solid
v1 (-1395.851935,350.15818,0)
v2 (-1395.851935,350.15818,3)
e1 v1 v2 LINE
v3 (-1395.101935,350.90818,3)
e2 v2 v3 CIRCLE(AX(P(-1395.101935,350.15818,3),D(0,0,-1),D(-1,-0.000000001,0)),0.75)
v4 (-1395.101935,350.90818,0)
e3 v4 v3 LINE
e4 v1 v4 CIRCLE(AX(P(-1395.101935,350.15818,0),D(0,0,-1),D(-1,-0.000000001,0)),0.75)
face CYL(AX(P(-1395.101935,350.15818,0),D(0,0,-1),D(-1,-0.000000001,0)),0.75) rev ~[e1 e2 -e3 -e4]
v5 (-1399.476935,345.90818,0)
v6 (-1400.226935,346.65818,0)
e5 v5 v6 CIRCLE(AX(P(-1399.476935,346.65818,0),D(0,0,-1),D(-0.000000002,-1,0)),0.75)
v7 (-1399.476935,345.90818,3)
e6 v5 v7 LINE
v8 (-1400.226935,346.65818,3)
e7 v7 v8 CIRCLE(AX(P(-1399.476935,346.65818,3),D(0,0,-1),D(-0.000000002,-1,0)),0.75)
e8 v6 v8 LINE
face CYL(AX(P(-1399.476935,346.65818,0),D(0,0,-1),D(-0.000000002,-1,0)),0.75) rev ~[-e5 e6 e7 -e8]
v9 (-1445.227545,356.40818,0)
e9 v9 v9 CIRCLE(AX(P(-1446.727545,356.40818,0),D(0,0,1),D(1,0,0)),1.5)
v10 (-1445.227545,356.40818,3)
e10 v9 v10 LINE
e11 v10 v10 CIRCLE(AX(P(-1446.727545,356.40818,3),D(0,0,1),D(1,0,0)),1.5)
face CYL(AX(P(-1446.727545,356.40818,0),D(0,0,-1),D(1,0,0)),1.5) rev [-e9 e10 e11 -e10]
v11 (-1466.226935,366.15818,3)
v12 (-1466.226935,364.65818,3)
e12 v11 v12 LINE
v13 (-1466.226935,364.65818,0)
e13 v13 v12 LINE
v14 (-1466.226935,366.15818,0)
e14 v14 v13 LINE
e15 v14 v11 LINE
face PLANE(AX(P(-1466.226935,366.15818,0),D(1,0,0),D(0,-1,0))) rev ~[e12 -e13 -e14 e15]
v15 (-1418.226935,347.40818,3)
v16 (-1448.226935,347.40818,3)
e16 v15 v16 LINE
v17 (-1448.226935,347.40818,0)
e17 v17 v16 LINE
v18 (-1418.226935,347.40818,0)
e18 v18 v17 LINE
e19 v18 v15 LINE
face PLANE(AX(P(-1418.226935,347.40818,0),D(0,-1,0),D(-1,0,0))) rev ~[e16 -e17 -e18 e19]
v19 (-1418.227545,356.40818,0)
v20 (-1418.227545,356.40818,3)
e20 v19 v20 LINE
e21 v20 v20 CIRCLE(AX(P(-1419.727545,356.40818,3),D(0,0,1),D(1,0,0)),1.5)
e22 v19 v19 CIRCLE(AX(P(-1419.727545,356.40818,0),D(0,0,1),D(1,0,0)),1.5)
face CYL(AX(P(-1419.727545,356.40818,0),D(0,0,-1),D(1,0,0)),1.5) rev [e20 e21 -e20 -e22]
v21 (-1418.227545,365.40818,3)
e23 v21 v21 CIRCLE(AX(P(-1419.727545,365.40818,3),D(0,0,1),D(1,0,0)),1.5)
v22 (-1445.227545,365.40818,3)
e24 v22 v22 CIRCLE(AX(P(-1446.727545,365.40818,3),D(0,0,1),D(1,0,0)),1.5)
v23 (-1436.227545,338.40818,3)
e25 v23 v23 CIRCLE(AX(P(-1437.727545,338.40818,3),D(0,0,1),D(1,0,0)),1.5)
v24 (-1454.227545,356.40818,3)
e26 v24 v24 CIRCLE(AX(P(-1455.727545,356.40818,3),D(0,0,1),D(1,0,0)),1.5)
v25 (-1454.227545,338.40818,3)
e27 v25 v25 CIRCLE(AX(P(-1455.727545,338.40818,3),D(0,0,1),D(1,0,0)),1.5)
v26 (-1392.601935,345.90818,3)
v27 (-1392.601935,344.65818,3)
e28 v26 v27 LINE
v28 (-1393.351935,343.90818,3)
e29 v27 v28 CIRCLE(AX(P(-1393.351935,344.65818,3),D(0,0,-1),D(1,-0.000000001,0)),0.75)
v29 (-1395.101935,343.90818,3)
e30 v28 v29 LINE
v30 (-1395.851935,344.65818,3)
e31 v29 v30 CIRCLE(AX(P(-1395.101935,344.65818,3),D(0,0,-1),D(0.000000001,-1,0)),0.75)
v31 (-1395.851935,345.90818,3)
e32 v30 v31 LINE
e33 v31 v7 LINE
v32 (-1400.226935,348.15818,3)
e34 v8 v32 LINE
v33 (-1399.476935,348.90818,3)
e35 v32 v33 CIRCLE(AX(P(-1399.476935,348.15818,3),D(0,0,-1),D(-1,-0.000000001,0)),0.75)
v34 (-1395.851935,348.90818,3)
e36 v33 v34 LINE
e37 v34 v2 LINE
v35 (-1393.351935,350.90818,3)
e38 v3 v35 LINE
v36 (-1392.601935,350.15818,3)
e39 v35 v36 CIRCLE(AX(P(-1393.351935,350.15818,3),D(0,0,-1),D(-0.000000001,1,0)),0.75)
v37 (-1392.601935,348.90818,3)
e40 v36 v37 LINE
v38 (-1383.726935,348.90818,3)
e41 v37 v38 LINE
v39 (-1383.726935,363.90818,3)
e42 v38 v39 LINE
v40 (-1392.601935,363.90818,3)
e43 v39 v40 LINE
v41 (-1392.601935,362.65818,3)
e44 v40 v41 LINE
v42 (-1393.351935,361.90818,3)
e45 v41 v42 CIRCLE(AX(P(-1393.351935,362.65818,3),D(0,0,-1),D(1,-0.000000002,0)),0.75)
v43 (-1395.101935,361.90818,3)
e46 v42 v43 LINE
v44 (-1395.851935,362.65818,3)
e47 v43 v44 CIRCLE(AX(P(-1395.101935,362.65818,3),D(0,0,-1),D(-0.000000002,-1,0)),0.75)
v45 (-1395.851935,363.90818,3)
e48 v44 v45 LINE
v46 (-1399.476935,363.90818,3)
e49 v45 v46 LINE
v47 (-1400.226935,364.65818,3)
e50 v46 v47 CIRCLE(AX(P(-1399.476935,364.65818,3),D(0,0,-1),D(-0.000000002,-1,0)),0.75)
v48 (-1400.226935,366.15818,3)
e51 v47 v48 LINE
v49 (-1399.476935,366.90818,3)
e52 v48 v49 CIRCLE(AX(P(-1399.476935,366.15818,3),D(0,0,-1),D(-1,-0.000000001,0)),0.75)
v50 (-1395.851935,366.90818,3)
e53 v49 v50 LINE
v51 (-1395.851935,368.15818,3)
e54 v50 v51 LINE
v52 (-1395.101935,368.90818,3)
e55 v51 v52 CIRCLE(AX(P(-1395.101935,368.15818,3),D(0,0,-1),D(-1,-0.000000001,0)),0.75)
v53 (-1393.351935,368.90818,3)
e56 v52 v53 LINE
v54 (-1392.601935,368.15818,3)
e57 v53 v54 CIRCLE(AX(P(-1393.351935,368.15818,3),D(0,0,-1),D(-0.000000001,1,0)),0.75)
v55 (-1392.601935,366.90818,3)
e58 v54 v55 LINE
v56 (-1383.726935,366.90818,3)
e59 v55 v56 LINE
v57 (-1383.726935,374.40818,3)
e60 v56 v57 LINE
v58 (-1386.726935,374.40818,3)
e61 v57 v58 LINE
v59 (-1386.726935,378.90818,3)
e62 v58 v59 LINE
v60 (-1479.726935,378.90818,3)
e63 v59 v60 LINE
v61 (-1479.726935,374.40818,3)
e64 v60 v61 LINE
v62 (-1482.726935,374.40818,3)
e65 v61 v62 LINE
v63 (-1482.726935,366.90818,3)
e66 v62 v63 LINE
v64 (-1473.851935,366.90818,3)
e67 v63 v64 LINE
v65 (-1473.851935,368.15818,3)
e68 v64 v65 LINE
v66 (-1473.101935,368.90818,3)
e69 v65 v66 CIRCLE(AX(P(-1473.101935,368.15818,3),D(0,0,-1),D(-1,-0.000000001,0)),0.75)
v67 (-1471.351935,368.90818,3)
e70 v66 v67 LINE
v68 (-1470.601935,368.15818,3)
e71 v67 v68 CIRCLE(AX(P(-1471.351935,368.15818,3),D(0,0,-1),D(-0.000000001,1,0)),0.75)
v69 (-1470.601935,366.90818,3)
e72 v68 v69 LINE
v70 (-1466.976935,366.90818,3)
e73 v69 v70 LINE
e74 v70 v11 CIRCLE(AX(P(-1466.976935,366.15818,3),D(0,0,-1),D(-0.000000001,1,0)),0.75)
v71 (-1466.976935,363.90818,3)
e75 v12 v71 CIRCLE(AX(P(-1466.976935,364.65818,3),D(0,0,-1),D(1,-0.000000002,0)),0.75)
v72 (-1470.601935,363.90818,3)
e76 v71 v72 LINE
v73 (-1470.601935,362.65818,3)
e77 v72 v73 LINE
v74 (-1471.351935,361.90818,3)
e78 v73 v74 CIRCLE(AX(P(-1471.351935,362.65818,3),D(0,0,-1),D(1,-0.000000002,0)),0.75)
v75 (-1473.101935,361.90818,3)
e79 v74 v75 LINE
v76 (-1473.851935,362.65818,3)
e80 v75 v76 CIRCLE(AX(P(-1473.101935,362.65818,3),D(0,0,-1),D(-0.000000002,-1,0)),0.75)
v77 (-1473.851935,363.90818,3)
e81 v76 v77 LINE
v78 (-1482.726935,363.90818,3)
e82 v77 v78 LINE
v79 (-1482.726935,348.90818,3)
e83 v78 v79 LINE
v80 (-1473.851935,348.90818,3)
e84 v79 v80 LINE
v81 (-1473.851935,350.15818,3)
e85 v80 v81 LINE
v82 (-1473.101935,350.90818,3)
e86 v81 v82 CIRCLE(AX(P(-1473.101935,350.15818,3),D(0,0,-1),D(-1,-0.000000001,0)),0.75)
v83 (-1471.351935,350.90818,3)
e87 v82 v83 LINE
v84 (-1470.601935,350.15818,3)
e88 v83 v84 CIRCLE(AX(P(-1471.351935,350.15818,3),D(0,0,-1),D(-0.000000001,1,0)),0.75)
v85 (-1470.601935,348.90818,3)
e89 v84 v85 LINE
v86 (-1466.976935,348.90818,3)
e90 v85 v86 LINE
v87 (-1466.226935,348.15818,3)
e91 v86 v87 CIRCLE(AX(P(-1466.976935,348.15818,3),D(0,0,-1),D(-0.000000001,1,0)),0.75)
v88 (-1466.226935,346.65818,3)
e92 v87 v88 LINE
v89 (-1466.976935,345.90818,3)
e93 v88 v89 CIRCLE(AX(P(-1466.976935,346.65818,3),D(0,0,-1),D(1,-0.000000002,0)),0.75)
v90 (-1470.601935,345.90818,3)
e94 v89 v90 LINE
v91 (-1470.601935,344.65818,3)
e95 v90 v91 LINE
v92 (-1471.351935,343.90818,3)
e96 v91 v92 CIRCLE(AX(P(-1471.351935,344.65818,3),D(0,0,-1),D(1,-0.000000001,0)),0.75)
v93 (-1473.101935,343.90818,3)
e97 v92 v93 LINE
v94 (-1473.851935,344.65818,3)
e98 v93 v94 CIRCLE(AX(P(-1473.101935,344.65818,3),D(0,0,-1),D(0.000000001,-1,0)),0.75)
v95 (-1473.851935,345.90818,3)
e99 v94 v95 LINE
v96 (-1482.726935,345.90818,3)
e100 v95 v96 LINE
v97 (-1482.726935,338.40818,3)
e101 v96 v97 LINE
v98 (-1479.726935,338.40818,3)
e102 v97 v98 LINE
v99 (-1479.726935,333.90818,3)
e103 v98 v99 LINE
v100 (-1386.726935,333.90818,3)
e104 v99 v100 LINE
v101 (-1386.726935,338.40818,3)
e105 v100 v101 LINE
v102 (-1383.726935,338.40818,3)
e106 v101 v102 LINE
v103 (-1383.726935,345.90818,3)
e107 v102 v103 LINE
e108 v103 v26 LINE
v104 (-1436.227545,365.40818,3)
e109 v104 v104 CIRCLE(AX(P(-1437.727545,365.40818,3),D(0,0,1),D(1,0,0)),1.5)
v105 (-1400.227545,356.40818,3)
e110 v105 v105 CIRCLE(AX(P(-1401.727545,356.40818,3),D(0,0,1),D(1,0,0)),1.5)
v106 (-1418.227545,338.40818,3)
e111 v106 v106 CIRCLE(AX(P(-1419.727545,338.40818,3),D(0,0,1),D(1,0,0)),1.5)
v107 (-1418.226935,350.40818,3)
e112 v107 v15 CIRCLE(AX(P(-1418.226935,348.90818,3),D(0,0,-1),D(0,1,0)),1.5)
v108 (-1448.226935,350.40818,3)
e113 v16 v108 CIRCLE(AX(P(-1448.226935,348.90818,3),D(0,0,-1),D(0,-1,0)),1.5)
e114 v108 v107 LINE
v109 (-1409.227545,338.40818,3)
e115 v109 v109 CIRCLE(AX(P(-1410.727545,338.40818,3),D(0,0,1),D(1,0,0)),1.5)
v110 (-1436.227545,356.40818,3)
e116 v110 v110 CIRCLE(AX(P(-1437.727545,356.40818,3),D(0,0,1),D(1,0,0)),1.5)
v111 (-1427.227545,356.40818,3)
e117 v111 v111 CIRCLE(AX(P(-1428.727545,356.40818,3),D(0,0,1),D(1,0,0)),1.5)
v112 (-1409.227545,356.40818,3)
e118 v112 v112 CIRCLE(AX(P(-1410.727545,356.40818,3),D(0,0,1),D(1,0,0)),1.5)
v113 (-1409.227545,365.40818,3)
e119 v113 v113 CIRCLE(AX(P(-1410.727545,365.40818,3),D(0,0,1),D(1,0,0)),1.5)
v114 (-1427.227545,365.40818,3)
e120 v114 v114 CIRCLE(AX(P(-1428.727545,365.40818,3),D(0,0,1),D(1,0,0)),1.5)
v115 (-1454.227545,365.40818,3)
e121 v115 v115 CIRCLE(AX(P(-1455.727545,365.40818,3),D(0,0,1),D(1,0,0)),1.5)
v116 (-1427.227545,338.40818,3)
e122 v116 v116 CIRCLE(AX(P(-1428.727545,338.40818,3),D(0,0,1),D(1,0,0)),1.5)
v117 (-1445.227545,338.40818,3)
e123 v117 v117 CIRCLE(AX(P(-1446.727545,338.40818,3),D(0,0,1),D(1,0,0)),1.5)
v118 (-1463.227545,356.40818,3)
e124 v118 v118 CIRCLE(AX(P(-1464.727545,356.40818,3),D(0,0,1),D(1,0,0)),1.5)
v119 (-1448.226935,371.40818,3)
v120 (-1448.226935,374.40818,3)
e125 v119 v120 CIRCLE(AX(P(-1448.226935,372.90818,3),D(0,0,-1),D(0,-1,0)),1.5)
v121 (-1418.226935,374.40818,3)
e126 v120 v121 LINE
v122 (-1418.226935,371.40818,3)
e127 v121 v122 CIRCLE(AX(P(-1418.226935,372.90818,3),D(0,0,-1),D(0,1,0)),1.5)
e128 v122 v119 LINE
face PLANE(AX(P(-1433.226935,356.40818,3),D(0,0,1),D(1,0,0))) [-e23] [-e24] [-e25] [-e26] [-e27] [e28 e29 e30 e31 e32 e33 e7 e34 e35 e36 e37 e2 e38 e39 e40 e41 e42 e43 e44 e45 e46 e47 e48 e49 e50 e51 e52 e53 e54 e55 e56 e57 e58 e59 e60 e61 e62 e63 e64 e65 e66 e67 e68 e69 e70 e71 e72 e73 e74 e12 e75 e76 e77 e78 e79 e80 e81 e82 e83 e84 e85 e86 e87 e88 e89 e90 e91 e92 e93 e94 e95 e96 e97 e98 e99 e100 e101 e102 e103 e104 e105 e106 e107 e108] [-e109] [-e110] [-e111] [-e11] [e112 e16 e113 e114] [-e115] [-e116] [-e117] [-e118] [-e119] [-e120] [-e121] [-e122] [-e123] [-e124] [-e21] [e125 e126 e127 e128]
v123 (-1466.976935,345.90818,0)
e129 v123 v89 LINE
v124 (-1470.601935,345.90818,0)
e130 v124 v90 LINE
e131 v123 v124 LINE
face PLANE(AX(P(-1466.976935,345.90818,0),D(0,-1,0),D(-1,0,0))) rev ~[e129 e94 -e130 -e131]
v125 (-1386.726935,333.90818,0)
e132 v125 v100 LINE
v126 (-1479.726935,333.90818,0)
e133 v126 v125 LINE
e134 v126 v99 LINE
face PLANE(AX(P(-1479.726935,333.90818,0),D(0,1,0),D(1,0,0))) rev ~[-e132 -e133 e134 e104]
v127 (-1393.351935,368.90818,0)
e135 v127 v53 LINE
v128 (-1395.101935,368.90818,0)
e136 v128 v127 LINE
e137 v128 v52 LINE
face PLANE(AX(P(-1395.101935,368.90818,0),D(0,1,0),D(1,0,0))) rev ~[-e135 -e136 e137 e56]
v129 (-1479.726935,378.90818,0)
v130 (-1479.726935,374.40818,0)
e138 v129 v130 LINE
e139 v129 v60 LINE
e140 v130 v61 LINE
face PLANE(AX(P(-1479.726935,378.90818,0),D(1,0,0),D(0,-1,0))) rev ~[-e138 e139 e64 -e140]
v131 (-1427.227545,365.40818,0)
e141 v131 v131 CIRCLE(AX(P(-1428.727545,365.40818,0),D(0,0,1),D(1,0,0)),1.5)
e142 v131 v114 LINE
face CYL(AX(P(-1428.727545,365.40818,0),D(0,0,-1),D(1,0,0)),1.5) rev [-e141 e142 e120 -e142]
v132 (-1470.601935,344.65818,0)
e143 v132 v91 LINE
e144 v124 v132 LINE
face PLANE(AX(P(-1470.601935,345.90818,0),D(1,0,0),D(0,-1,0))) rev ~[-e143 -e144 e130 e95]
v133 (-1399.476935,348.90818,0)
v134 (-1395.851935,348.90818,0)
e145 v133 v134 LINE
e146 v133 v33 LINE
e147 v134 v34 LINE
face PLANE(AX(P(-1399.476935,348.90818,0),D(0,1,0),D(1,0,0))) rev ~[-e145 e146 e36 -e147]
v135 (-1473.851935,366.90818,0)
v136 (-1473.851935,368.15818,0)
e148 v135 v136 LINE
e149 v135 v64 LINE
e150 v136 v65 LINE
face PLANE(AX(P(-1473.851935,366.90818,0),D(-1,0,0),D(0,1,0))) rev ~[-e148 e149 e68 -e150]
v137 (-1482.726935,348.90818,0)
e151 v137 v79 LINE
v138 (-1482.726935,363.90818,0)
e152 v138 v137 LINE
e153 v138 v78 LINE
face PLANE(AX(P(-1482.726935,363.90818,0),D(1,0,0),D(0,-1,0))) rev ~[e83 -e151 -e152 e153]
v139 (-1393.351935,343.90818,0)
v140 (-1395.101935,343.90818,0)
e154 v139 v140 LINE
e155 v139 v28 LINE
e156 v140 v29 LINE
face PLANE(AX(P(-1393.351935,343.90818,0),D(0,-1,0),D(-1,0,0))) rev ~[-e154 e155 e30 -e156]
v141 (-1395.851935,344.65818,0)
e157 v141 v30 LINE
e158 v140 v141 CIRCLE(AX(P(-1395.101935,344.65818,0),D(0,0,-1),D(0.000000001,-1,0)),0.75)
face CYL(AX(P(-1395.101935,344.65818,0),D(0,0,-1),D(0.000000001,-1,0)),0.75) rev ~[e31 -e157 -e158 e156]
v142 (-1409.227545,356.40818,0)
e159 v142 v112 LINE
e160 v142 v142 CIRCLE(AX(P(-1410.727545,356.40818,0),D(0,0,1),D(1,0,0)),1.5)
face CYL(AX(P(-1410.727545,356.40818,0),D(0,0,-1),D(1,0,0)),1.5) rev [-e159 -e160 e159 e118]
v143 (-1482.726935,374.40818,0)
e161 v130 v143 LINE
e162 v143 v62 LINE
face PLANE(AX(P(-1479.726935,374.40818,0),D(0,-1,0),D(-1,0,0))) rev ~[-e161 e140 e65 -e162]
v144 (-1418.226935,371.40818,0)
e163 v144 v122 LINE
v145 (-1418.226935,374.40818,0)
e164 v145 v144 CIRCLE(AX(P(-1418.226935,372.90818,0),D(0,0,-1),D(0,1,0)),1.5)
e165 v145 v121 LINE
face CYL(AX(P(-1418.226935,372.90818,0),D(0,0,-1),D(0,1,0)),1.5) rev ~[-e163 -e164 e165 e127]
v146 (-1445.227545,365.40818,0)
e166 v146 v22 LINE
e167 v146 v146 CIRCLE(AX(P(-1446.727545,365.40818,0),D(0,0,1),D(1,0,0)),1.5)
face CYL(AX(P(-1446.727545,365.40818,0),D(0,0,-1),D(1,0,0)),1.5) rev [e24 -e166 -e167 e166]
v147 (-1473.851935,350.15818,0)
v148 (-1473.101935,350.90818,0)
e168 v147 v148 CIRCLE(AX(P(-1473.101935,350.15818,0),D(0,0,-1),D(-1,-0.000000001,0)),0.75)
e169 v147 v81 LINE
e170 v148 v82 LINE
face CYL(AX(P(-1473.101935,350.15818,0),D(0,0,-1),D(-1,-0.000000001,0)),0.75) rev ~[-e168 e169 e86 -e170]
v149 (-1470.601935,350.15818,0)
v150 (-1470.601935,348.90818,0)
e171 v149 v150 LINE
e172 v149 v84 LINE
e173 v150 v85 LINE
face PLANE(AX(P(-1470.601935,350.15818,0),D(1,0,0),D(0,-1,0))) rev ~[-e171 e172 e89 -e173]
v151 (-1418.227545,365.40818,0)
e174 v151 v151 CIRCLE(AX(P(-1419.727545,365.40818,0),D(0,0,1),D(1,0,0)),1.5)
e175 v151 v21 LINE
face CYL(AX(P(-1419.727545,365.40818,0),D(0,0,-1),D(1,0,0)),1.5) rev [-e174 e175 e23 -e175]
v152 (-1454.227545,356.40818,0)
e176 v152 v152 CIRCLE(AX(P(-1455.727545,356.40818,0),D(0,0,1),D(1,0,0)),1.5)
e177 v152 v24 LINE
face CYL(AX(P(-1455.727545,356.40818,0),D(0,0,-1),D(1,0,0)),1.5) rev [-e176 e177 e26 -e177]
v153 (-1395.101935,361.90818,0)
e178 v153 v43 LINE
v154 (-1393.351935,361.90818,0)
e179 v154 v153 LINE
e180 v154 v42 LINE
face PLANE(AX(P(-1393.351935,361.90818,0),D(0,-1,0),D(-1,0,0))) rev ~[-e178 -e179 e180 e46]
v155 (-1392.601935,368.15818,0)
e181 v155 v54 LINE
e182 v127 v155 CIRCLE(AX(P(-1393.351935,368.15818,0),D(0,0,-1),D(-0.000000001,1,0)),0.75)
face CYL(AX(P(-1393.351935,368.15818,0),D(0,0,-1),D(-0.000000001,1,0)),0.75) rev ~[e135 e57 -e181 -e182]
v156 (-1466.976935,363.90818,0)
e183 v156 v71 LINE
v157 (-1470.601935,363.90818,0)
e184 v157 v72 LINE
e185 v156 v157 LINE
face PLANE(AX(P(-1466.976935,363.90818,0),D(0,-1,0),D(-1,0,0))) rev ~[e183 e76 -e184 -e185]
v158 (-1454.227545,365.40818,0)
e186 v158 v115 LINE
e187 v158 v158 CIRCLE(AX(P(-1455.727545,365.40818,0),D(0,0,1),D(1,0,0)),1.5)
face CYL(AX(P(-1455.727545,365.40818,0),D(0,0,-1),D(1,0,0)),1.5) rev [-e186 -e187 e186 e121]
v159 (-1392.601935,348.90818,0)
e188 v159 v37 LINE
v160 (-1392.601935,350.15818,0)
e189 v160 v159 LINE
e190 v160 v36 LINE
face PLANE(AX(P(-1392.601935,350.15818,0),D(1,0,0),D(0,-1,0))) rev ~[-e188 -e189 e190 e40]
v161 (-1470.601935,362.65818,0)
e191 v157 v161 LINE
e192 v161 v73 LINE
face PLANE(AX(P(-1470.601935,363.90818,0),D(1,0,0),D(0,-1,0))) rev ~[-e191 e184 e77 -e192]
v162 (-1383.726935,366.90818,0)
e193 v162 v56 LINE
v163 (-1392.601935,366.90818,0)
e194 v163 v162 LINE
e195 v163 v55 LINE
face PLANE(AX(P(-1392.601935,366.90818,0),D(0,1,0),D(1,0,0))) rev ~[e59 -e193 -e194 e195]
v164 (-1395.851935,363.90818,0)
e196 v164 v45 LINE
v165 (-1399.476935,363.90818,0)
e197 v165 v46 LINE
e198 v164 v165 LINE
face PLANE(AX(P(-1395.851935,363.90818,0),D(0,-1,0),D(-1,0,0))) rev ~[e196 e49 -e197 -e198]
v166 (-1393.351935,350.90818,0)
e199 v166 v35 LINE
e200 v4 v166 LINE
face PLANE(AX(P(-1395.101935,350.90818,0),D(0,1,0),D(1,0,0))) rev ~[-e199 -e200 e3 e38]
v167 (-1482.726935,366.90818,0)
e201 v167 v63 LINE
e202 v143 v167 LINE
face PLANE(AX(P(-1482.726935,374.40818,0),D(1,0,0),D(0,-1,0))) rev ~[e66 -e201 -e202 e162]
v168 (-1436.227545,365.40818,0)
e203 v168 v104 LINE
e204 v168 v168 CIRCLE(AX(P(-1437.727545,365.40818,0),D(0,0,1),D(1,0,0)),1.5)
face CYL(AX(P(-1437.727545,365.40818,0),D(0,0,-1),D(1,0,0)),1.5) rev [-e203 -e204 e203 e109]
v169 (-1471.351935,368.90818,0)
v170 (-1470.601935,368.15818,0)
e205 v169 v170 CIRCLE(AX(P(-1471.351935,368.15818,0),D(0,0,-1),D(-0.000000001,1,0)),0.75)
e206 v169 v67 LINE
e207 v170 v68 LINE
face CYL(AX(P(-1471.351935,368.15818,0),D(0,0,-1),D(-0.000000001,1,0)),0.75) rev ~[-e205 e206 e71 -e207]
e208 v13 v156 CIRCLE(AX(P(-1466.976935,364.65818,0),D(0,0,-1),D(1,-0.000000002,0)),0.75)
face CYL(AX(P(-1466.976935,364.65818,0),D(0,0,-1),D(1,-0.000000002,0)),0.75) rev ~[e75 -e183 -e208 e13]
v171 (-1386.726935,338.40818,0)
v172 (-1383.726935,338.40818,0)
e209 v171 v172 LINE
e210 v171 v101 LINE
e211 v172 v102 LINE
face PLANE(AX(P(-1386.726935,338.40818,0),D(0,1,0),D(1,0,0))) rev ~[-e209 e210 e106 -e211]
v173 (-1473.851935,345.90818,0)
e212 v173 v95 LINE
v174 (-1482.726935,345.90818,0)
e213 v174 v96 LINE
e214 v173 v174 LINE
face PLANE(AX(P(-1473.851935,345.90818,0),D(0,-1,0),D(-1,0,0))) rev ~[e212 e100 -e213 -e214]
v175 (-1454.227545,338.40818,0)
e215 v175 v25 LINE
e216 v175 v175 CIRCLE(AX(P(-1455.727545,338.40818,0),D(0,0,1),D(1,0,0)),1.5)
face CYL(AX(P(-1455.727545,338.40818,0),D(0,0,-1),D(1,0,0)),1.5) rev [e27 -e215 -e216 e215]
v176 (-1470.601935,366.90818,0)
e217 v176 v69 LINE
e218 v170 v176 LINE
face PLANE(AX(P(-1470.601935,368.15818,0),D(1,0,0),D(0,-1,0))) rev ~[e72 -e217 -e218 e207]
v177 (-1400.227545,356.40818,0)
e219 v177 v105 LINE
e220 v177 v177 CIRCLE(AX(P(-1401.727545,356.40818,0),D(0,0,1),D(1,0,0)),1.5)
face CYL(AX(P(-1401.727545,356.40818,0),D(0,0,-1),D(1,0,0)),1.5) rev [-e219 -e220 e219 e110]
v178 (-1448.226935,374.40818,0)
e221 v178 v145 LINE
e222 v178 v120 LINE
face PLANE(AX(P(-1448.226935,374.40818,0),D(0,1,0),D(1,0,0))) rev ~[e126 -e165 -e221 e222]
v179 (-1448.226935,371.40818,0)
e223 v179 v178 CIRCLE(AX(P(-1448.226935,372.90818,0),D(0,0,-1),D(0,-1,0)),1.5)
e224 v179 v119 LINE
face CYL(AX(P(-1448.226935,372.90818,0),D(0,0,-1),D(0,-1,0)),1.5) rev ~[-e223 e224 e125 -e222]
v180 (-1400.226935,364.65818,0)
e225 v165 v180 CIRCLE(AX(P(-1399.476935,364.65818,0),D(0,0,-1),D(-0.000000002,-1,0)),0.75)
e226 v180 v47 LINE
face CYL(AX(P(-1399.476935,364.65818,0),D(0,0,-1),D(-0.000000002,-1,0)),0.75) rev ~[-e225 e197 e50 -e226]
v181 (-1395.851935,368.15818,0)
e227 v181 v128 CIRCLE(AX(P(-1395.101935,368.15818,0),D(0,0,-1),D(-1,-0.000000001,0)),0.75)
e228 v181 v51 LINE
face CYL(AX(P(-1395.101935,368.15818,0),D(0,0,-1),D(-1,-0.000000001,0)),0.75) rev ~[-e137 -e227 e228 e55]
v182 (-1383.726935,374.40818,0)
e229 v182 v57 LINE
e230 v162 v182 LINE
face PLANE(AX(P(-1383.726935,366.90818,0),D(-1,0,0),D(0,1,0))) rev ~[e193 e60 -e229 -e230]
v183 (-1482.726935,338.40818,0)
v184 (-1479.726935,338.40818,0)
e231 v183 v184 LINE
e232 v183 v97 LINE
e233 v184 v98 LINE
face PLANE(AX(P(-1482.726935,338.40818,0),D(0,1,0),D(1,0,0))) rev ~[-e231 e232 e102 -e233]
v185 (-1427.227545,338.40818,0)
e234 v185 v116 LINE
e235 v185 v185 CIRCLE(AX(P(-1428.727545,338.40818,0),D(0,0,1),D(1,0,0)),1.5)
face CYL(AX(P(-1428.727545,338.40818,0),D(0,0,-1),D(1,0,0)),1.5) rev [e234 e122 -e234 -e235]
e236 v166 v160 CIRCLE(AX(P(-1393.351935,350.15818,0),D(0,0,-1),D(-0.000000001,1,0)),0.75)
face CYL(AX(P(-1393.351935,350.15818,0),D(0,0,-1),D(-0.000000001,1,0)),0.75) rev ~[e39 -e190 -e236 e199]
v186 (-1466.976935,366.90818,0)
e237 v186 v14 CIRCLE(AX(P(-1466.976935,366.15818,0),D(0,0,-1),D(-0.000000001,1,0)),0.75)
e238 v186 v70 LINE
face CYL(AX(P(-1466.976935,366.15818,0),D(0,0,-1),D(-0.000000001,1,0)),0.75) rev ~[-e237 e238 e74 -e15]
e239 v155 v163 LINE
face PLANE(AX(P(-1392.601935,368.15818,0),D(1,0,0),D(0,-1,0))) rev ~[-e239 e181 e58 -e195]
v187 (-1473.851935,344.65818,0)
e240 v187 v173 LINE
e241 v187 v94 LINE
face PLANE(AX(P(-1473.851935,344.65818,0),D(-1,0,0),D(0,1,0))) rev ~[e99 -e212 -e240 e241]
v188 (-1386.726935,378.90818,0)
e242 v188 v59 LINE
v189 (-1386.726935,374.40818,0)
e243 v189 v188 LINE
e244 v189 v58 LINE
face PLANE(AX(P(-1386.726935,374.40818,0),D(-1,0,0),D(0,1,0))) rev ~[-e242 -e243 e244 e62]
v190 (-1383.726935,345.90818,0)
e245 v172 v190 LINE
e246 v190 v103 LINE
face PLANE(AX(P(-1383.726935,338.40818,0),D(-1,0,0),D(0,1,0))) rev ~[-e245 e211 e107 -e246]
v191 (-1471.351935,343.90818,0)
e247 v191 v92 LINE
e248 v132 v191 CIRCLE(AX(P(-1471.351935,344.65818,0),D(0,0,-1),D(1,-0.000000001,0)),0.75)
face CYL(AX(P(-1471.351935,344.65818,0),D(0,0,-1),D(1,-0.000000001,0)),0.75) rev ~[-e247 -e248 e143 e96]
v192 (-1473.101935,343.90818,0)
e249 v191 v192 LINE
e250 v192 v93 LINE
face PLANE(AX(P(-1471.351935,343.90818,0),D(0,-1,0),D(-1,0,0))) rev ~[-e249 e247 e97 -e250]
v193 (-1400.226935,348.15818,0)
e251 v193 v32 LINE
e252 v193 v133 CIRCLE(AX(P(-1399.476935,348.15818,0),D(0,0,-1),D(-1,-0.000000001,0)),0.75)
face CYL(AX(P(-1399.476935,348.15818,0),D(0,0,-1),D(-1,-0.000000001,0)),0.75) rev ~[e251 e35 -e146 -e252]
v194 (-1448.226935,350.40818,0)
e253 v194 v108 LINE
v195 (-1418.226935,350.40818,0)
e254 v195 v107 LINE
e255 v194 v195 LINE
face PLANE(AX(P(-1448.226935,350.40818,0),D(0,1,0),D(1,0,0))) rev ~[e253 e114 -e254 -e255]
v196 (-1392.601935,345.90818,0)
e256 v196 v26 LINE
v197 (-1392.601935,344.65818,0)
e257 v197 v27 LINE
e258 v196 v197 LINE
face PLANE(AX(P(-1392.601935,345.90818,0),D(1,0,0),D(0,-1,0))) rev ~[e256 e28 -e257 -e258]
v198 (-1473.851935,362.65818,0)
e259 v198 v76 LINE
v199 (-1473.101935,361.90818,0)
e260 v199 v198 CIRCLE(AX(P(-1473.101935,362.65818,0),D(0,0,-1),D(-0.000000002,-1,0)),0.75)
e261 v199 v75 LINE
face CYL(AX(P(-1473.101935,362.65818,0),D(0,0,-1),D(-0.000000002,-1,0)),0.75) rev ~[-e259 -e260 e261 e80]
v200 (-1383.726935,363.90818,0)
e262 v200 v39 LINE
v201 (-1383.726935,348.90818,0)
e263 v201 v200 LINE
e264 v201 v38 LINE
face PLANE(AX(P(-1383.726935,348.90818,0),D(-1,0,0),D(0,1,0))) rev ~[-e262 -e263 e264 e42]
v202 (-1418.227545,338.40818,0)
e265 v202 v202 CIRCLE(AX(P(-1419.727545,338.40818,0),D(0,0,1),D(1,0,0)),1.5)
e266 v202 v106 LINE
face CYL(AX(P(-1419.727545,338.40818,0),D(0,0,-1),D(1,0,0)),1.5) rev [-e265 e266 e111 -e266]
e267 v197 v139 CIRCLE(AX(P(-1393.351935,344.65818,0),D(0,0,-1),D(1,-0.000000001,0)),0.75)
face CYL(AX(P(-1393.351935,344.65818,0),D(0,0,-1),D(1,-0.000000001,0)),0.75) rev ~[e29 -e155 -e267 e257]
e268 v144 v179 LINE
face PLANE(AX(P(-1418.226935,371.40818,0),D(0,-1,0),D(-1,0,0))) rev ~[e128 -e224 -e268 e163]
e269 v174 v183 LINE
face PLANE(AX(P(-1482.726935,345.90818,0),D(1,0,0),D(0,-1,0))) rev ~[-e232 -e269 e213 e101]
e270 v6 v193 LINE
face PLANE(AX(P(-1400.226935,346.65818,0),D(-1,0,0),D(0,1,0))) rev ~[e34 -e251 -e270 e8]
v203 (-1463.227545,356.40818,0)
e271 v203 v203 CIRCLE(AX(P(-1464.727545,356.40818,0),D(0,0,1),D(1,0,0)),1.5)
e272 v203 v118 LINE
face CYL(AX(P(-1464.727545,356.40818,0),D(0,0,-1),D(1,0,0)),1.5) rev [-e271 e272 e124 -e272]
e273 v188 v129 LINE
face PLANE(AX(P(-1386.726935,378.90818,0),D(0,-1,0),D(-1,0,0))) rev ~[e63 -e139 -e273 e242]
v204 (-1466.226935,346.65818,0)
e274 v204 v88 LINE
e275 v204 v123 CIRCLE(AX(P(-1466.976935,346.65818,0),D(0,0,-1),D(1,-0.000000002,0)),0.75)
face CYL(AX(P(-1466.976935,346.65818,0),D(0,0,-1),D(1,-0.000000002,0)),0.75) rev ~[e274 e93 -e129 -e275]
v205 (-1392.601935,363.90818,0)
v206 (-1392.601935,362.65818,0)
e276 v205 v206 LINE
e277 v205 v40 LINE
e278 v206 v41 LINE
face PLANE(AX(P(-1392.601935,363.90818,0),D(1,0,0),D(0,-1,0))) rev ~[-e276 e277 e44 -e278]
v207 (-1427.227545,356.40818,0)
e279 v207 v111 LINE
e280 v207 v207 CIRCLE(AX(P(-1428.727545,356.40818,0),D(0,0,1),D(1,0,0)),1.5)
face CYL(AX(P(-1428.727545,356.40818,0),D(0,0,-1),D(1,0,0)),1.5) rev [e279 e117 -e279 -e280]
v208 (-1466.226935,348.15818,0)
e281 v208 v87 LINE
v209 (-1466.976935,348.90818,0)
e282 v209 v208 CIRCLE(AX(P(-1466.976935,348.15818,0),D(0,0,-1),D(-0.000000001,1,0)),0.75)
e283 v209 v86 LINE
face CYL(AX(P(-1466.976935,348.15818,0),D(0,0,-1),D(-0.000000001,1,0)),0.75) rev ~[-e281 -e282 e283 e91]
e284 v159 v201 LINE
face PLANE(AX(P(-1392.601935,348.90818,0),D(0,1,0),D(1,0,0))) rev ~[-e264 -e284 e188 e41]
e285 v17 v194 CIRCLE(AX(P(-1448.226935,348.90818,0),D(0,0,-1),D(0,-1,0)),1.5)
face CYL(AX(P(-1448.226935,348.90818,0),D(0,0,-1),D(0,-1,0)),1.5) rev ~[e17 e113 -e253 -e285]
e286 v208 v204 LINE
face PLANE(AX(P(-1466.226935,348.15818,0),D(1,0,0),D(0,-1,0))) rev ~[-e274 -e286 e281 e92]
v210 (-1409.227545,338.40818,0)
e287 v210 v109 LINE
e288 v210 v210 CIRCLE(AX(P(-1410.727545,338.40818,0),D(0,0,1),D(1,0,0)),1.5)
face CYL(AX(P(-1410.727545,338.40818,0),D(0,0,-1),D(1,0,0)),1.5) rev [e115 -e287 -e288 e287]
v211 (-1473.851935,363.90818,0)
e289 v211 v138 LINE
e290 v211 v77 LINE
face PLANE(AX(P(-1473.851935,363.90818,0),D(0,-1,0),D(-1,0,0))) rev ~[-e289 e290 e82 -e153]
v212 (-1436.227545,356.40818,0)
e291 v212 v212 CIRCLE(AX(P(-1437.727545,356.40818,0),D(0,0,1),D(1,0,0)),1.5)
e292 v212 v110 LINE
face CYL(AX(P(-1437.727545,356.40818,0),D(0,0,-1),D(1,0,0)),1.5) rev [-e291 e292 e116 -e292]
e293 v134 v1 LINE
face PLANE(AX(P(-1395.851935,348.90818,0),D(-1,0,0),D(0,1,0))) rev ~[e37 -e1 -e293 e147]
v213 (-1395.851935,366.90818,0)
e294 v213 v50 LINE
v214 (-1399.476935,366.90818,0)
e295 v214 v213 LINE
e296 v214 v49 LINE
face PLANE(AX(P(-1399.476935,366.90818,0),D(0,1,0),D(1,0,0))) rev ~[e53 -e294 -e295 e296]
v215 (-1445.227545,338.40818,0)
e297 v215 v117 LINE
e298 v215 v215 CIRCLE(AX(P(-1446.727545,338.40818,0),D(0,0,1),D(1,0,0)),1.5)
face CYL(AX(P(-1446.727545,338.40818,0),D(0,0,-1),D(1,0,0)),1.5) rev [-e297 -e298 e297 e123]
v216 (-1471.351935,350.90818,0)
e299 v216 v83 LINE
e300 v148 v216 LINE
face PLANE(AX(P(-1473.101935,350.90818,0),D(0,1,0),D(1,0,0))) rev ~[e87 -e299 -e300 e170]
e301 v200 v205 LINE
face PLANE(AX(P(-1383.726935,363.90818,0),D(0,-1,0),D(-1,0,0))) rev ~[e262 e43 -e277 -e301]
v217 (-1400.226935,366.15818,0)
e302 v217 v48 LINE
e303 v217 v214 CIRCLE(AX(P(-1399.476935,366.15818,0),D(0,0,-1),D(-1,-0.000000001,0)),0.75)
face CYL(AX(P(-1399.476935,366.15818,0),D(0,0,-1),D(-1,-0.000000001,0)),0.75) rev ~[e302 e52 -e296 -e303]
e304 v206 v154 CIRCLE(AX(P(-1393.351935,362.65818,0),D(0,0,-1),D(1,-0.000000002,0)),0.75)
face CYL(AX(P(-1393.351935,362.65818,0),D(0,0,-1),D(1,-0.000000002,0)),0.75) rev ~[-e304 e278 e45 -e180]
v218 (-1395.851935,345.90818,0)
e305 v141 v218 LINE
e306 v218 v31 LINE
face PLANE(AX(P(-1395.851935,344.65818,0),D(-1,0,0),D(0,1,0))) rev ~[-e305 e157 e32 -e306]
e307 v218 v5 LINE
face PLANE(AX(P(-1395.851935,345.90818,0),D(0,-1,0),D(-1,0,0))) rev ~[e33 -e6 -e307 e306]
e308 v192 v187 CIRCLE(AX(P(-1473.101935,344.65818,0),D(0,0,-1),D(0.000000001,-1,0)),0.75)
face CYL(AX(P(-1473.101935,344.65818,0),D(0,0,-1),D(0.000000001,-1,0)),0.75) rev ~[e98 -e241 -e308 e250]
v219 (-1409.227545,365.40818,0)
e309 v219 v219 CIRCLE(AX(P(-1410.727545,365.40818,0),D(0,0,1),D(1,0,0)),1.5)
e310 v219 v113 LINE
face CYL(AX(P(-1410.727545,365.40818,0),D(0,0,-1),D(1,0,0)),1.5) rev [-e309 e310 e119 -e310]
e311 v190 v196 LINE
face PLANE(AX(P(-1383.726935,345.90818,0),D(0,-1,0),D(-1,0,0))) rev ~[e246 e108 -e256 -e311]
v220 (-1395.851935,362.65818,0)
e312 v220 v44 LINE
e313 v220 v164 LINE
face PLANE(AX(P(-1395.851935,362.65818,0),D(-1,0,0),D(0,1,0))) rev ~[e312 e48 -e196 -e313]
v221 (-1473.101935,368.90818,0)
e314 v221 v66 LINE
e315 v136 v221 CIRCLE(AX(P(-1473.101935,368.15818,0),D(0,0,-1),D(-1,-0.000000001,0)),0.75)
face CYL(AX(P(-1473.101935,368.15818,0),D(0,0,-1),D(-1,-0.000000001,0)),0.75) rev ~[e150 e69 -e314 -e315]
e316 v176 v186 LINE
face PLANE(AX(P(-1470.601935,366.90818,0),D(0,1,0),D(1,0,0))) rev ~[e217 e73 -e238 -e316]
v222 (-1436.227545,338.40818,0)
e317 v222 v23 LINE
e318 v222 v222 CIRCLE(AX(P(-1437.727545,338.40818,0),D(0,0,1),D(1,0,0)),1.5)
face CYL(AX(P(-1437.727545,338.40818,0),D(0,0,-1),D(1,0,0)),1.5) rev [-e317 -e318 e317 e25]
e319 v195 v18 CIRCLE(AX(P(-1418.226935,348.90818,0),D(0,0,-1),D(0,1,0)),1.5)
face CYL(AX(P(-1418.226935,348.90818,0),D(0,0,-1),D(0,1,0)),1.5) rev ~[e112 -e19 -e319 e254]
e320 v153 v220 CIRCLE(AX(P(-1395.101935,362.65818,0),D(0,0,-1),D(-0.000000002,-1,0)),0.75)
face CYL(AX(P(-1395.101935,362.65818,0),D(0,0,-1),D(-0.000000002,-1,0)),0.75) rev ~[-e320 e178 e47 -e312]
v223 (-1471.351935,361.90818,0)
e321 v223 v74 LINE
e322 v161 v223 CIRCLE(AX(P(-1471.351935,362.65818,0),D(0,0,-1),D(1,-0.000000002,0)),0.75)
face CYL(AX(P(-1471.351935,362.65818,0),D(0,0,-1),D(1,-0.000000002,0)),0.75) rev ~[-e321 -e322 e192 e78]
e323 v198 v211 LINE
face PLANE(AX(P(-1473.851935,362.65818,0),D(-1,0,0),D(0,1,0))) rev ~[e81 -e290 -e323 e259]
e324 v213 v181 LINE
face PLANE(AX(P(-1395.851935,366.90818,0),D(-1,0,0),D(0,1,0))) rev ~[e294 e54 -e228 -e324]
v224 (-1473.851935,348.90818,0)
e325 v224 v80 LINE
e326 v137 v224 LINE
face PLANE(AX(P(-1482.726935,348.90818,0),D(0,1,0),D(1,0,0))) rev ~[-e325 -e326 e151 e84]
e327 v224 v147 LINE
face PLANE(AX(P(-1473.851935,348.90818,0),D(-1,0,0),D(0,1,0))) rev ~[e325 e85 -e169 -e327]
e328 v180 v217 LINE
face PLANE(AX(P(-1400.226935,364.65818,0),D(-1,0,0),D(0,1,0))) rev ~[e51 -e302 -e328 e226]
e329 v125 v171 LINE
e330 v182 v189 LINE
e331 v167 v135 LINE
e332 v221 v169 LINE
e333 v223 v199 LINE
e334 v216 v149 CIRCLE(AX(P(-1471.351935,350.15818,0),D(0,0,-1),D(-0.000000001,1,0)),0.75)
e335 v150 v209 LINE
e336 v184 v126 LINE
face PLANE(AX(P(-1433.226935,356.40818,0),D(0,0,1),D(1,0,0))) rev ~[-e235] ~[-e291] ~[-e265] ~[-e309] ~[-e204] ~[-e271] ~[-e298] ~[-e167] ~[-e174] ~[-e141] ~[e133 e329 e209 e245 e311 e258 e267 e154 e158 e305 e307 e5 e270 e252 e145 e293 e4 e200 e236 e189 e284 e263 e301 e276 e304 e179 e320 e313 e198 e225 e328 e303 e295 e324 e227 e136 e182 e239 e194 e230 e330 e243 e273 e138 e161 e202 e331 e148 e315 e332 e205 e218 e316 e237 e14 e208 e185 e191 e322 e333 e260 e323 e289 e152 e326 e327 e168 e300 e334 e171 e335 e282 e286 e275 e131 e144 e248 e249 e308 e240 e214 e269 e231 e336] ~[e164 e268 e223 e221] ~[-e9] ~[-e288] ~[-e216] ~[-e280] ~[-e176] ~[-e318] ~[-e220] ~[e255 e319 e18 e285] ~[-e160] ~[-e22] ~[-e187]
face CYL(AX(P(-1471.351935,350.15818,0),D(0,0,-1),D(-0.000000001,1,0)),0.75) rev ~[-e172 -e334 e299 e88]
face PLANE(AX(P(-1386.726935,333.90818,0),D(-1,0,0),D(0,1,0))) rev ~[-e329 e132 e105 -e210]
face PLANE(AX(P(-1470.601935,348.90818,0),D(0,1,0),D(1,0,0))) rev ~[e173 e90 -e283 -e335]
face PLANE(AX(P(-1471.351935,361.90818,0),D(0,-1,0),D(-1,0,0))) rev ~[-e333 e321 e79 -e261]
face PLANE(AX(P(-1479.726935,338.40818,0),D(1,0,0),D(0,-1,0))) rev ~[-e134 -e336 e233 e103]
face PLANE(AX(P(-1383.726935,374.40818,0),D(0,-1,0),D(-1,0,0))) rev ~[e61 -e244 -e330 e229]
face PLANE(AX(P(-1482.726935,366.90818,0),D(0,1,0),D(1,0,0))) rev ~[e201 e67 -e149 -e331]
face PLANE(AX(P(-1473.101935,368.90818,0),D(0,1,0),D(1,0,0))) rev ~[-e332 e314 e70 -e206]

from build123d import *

# Parameters (mm, degrees)
MODEL_R                 = 1.5
SALIENTE_EXTRUIR1_DEPTH = 3


with BuildPart() as part:
    # Model → Saliente-Extruir1 (new body)
    with BuildSketch(Plane.XY):
        with BuildLine():
            Line((-1383.726934946, 374.408179756), (-1386.726934946, 374.408179756))
            Line((-1386.726934946, 374.408179756), (-1386.726934946, 378.908179756))
            Line((-1386.726934946, 378.908179756), (-1479.726934946, 378.908179756))
            Line((-1479.726934946, 378.908179756), (-1479.726934946, 374.408179756))
            Line((-1479.726934946, 374.408179756), (-1482.726934946, 374.408179756))
            Line((-1482.726934946, 374.408179756), (-1482.726934946, 366.908179756))
            Line((-1482.726934946, 366.908179756), (-1473.851934946, 366.908179756))
            Line((-1473.851934946, 366.908179756), (-1473.851934946, 368.158179756))
            ThreePointArc((-1473.851934946, 368.158179756), (-1473.632265032, 368.688509842), (-1473.101934946, 368.908179756))
            Line((-1473.101934946, 368.908179756), (-1471.351934946, 368.908179756))
            ThreePointArc((-1471.351934946, 368.908179756), (-1470.82160486, 368.688509842), (-1470.601934946, 368.158179756))
            Line((-1470.601934946, 368.158179756), (-1470.601934946, 366.908179756))
            Line((-1470.601934946, 366.908179756), (-1466.976934946, 366.908179756))
            ThreePointArc((-1466.976934946, 366.908179756), (-1466.44660486, 366.688509842), (-1466.226934946, 366.158179756))
            Line((-1466.226934946, 366.158179756), (-1466.226934946, 364.658179756))
            ThreePointArc((-1466.226934946, 364.658179756), (-1466.44660486, 364.127849671), (-1466.976934946, 363.908179756))
            Line((-1466.976934946, 363.908179756), (-1470.601934946, 363.908179756))
            Line((-1470.601934946, 363.908179756), (-1470.601934946, 362.658179756))
            ThreePointArc((-1470.601934946, 362.658179756), (-1470.82160486, 362.127849671), (-1471.351934946, 361.908179756))
            Line((-1471.351934946, 361.908179756), (-1473.101934946, 361.908179756))
            ThreePointArc((-1473.101934946, 361.908179756), (-1473.632265032, 362.127849671), (-1473.851934946, 362.658179756))
            Line((-1473.851934946, 362.658179756), (-1473.851934946, 363.908179756))
            Line((-1473.851934946, 363.908179756), (-1482.726934946, 363.908179756))
            Line((-1482.726934946, 363.908179756), (-1482.726934946, 348.908179756))
            Line((-1482.726934946, 348.908179756), (-1473.851934946, 348.908179756))
            Line((-1473.851934946, 348.908179756), (-1473.851934946, 350.158179756))
            ThreePointArc((-1473.851934946, 350.158179756), (-1473.632265032, 350.688509842), (-1473.101934946, 350.908179756))
            Line((-1473.101934946, 350.908179756), (-1471.351934946, 350.908179756))
            ThreePointArc((-1471.351934946, 350.908179756), (-1470.82160486, 350.688509842), (-1470.601934946, 350.158179756))
            Line((-1470.601934946, 350.158179756), (-1470.601934946, 348.908179756))
            Line((-1470.601934946, 348.908179756), (-1466.976934946, 348.908179756))
            ThreePointArc((-1466.976934946, 348.908179756), (-1466.44660486, 348.688509842), (-1466.226934946, 348.158179756))
            Line((-1466.226934946, 348.158179756), (-1466.226934946, 346.658179756))
            ThreePointArc((-1466.226934946, 346.658179756), (-1466.44660486, 346.127849671), (-1466.976934946, 345.908179756))
            Line((-1466.976934946, 345.908179756), (-1470.601934946, 345.908179756))
            Line((-1470.601934946, 345.908179756), (-1470.601934946, 344.658179756))
            ThreePointArc((-1470.601934946, 344.658179756), (-1470.82160486, 344.127849671), (-1471.351934946, 343.908179757))
            Line((-1471.351934946, 343.908179757), (-1473.101934946, 343.908179757))
            ThreePointArc((-1473.101934946, 343.908179757), (-1473.632265032, 344.127849671), (-1473.851934946, 344.658179756))
            Line((-1473.851934946, 344.658179756), (-1473.851934946, 345.908179756))
            Line((-1473.851934946, 345.908179756), (-1482.726934946, 345.908179756))
            Line((-1482.726934946, 345.908179756), (-1482.726934946, 338.408179757))
            Line((-1482.726934946, 338.408179757), (-1479.726934946, 338.408179757))
            Line((-1479.726934946, 338.408179757), (-1479.726934946, 333.908179756))
            Line((-1479.726934946, 333.908179756), (-1386.726934946, 333.908179756))
            Line((-1386.726934946, 333.908179756), (-1386.726934946, 338.408179757))
            Line((-1386.726934946, 338.408179757), (-1383.726934946, 338.408179757))
            Line((-1383.726934946, 338.408179757), (-1383.726934946, 345.908179756))
            Line((-1383.726934946, 345.908179756), (-1392.601934946, 345.908179756))
            Line((-1392.601934946, 345.908179756), (-1392.601934946, 344.658179756))
            ThreePointArc((-1392.601934946, 344.658179756), (-1392.82160486, 344.127849671), (-1393.351934946, 343.908179757))
            Line((-1393.351934946, 343.908179757), (-1395.101934946, 343.908179757))
            ThreePointArc((-1395.101934946, 343.908179757), (-1395.632265032, 344.127849671), (-1395.851934946, 344.658179756))
            Line((-1395.851934946, 344.658179756), (-1395.851934946, 345.908179756))
            Line((-1395.851934946, 345.908179756), (-1399.476934946, 345.908179756))
            ThreePointArc((-1399.476934946, 345.908179756), (-1400.007265032, 346.127849671), (-1400.226934946, 346.658179756))
            Line((-1400.226934946, 346.658179756), (-1400.226934946, 348.158179756))
            ThreePointArc((-1400.226934946, 348.158179756), (-1400.007265032, 348.688509842), (-1399.476934946, 348.908179756))
            Line((-1399.476934946, 348.908179756), (-1395.851934946, 348.908179756))
            Line((-1395.851934946, 348.908179756), (-1395.851934946, 350.158179756))
            ThreePointArc((-1395.851934946, 350.158179756), (-1395.632265032, 350.688509842), (-1395.101934946, 350.908179756))
            Line((-1395.101934946, 350.908179756), (-1393.351934946, 350.908179756))
            ThreePointArc((-1393.351934946, 350.908179756), (-1392.82160486, 350.688509842), (-1392.601934946, 350.158179756))
            Line((-1392.601934946, 350.158179756), (-1392.601934946, 348.908179756))
            Line((-1392.601934946, 348.908179756), (-1383.726934946, 348.908179756))
            Line((-1383.726934946, 348.908179756), (-1383.726934946, 363.908179756))
            Line((-1383.726934946, 363.908179756), (-1392.601934946, 363.908179756))
            Line((-1392.601934946, 363.908179756), (-1392.601934946, 362.658179756))
            ThreePointArc((-1392.601934946, 362.658179756), (-1392.82160486, 362.127849671), (-1393.351934946, 361.908179756))
            Line((-1393.351934946, 361.908179756), (-1395.101934946, 361.908179756))
            ThreePointArc((-1395.101934946, 361.908179756), (-1395.632265032, 362.127849671), (-1395.851934946, 362.658179756))
            Line((-1395.851934946, 362.658179756), (-1395.851934946, 363.908179756))
            Line((-1395.851934946, 363.908179756), (-1399.476934946, 363.908179756))
            ThreePointArc((-1399.476934946, 363.908179756), (-1400.007265032, 364.127849671), (-1400.226934946, 364.658179756))
            Line((-1400.226934946, 364.658179756), (-1400.226934946, 366.158179756))
            ThreePointArc((-1400.226934946, 366.158179756), (-1400.007265032, 366.688509842), (-1399.476934946, 366.908179756))
            Line((-1399.476934946, 366.908179756), (-1395.851934946, 366.908179756))
            Line((-1395.851934946, 366.908179756), (-1395.851934946, 368.158179756))
            ThreePointArc((-1395.851934946, 368.158179756), (-1395.632265032, 368.688509842), (-1395.101934946, 368.908179756))
            Line((-1395.101934946, 368.908179756), (-1393.351934946, 368.908179756))
            ThreePointArc((-1393.351934946, 368.908179756), (-1392.82160486, 368.688509842), (-1392.601934946, 368.158179756))
            Line((-1392.601934946, 368.158179756), (-1392.601934946, 366.908179756))
            Line((-1392.601934946, 366.908179756), (-1383.726934946, 366.908179756))
            Line((-1383.726934946, 366.908179756), (-1383.726934946, 374.408179756))
        make_face()
        with Locations((-1401.727545355, 356.408179756)):
            Circle(MODEL_R, mode=Mode.SUBTRACT)
        with Locations((-1464.727545355, 356.408179756)):
            Circle(MODEL_R, mode=Mode.SUBTRACT)
        with Locations((-1455.727545355, 356.408179756)):
            Circle(MODEL_R, mode=Mode.SUBTRACT)
        with Locations((-1410.727545355, 356.408179756)):
            Circle(MODEL_R, mode=Mode.SUBTRACT)
        with Locations((-1446.727545355, 356.408179756)):
            Circle(MODEL_R, mode=Mode.SUBTRACT)
        with Locations((-1437.727545355, 356.408179756)):
            Circle(MODEL_R, mode=Mode.SUBTRACT)
        with Locations((-1428.727545355, 356.408179756)):
            Circle(MODEL_R, mode=Mode.SUBTRACT)
        with Locations((-1419.727545355, 356.408179756)):
            Circle(MODEL_R, mode=Mode.SUBTRACT)
        with Locations((-1455.727545355, 365.408179756)):
            Circle(MODEL_R, mode=Mode.SUBTRACT)
        with Locations((-1446.727545355, 365.408179756)):
            Circle(MODEL_R, mode=Mode.SUBTRACT)
        with Locations((-1437.727545355, 365.408179756)):
            Circle(MODEL_R, mode=Mode.SUBTRACT)
        with Locations((-1428.727545355, 365.408179756)):
            Circle(MODEL_R, mode=Mode.SUBTRACT)
        with Locations((-1419.727545355, 365.408179756)):
            Circle(MODEL_R, mode=Mode.SUBTRACT)
        with Locations((-1410.727545355, 365.408179756)):
            Circle(MODEL_R, mode=Mode.SUBTRACT)
        with Locations((-1455.727545355, 338.408179757)):
            Circle(MODEL_R, mode=Mode.SUBTRACT)
        with Locations((-1446.727545355, 338.408179757)):
            Circle(MODEL_R, mode=Mode.SUBTRACT)
        with Locations((-1437.727545355, 338.408179757)):
            Circle(MODEL_R, mode=Mode.SUBTRACT)
        with Locations((-1428.727545355, 338.408179757)):
            Circle(MODEL_R, mode=Mode.SUBTRACT)
        with Locations((-1419.727545355, 338.408179757)):
            Circle(MODEL_R, mode=Mode.SUBTRACT)
        with Locations((-1410.727545355, 338.408179757)):
            Circle(MODEL_R, mode=Mode.SUBTRACT)
        with BuildLine():
            Line((-1448.226934946, 350.408179756), (-1418.226934946, 350.408179756))
            ThreePointArc((-1418.226934946, 350.408179756), (-1416.726934946, 348.908179756), (-1418.226934946, 347.408179756))
            Line((-1418.226934946, 347.408179756), (-1448.226934946, 347.408179756))
            ThreePointArc((-1448.226934946, 347.408179756), (-1449.726934946, 348.908179756), (-1448.226934946, 350.408179756))
        make_face(mode=Mode.SUBTRACT)
        with BuildLine():
            Line((-1448.226934946, 374.408179756), (-1418.226934946, 374.408179756))
            ThreePointArc((-1418.226934946, 374.408179756), (-1416.726934946, 372.908179756), (-1418.226934946, 371.408179756))
            Line((-1418.226934946, 371.408179756), (-1448.226934946, 371.408179756))
            ThreePointArc((-1448.226934946, 371.408179756), (-1449.726934946, 372.908179756), (-1448.226934946, 374.408179756))
        make_face(mode=Mode.SUBTRACT)
    extrude(amount=SALIENTE_EXTRUIR1_DEPTH)


solid = part.part
